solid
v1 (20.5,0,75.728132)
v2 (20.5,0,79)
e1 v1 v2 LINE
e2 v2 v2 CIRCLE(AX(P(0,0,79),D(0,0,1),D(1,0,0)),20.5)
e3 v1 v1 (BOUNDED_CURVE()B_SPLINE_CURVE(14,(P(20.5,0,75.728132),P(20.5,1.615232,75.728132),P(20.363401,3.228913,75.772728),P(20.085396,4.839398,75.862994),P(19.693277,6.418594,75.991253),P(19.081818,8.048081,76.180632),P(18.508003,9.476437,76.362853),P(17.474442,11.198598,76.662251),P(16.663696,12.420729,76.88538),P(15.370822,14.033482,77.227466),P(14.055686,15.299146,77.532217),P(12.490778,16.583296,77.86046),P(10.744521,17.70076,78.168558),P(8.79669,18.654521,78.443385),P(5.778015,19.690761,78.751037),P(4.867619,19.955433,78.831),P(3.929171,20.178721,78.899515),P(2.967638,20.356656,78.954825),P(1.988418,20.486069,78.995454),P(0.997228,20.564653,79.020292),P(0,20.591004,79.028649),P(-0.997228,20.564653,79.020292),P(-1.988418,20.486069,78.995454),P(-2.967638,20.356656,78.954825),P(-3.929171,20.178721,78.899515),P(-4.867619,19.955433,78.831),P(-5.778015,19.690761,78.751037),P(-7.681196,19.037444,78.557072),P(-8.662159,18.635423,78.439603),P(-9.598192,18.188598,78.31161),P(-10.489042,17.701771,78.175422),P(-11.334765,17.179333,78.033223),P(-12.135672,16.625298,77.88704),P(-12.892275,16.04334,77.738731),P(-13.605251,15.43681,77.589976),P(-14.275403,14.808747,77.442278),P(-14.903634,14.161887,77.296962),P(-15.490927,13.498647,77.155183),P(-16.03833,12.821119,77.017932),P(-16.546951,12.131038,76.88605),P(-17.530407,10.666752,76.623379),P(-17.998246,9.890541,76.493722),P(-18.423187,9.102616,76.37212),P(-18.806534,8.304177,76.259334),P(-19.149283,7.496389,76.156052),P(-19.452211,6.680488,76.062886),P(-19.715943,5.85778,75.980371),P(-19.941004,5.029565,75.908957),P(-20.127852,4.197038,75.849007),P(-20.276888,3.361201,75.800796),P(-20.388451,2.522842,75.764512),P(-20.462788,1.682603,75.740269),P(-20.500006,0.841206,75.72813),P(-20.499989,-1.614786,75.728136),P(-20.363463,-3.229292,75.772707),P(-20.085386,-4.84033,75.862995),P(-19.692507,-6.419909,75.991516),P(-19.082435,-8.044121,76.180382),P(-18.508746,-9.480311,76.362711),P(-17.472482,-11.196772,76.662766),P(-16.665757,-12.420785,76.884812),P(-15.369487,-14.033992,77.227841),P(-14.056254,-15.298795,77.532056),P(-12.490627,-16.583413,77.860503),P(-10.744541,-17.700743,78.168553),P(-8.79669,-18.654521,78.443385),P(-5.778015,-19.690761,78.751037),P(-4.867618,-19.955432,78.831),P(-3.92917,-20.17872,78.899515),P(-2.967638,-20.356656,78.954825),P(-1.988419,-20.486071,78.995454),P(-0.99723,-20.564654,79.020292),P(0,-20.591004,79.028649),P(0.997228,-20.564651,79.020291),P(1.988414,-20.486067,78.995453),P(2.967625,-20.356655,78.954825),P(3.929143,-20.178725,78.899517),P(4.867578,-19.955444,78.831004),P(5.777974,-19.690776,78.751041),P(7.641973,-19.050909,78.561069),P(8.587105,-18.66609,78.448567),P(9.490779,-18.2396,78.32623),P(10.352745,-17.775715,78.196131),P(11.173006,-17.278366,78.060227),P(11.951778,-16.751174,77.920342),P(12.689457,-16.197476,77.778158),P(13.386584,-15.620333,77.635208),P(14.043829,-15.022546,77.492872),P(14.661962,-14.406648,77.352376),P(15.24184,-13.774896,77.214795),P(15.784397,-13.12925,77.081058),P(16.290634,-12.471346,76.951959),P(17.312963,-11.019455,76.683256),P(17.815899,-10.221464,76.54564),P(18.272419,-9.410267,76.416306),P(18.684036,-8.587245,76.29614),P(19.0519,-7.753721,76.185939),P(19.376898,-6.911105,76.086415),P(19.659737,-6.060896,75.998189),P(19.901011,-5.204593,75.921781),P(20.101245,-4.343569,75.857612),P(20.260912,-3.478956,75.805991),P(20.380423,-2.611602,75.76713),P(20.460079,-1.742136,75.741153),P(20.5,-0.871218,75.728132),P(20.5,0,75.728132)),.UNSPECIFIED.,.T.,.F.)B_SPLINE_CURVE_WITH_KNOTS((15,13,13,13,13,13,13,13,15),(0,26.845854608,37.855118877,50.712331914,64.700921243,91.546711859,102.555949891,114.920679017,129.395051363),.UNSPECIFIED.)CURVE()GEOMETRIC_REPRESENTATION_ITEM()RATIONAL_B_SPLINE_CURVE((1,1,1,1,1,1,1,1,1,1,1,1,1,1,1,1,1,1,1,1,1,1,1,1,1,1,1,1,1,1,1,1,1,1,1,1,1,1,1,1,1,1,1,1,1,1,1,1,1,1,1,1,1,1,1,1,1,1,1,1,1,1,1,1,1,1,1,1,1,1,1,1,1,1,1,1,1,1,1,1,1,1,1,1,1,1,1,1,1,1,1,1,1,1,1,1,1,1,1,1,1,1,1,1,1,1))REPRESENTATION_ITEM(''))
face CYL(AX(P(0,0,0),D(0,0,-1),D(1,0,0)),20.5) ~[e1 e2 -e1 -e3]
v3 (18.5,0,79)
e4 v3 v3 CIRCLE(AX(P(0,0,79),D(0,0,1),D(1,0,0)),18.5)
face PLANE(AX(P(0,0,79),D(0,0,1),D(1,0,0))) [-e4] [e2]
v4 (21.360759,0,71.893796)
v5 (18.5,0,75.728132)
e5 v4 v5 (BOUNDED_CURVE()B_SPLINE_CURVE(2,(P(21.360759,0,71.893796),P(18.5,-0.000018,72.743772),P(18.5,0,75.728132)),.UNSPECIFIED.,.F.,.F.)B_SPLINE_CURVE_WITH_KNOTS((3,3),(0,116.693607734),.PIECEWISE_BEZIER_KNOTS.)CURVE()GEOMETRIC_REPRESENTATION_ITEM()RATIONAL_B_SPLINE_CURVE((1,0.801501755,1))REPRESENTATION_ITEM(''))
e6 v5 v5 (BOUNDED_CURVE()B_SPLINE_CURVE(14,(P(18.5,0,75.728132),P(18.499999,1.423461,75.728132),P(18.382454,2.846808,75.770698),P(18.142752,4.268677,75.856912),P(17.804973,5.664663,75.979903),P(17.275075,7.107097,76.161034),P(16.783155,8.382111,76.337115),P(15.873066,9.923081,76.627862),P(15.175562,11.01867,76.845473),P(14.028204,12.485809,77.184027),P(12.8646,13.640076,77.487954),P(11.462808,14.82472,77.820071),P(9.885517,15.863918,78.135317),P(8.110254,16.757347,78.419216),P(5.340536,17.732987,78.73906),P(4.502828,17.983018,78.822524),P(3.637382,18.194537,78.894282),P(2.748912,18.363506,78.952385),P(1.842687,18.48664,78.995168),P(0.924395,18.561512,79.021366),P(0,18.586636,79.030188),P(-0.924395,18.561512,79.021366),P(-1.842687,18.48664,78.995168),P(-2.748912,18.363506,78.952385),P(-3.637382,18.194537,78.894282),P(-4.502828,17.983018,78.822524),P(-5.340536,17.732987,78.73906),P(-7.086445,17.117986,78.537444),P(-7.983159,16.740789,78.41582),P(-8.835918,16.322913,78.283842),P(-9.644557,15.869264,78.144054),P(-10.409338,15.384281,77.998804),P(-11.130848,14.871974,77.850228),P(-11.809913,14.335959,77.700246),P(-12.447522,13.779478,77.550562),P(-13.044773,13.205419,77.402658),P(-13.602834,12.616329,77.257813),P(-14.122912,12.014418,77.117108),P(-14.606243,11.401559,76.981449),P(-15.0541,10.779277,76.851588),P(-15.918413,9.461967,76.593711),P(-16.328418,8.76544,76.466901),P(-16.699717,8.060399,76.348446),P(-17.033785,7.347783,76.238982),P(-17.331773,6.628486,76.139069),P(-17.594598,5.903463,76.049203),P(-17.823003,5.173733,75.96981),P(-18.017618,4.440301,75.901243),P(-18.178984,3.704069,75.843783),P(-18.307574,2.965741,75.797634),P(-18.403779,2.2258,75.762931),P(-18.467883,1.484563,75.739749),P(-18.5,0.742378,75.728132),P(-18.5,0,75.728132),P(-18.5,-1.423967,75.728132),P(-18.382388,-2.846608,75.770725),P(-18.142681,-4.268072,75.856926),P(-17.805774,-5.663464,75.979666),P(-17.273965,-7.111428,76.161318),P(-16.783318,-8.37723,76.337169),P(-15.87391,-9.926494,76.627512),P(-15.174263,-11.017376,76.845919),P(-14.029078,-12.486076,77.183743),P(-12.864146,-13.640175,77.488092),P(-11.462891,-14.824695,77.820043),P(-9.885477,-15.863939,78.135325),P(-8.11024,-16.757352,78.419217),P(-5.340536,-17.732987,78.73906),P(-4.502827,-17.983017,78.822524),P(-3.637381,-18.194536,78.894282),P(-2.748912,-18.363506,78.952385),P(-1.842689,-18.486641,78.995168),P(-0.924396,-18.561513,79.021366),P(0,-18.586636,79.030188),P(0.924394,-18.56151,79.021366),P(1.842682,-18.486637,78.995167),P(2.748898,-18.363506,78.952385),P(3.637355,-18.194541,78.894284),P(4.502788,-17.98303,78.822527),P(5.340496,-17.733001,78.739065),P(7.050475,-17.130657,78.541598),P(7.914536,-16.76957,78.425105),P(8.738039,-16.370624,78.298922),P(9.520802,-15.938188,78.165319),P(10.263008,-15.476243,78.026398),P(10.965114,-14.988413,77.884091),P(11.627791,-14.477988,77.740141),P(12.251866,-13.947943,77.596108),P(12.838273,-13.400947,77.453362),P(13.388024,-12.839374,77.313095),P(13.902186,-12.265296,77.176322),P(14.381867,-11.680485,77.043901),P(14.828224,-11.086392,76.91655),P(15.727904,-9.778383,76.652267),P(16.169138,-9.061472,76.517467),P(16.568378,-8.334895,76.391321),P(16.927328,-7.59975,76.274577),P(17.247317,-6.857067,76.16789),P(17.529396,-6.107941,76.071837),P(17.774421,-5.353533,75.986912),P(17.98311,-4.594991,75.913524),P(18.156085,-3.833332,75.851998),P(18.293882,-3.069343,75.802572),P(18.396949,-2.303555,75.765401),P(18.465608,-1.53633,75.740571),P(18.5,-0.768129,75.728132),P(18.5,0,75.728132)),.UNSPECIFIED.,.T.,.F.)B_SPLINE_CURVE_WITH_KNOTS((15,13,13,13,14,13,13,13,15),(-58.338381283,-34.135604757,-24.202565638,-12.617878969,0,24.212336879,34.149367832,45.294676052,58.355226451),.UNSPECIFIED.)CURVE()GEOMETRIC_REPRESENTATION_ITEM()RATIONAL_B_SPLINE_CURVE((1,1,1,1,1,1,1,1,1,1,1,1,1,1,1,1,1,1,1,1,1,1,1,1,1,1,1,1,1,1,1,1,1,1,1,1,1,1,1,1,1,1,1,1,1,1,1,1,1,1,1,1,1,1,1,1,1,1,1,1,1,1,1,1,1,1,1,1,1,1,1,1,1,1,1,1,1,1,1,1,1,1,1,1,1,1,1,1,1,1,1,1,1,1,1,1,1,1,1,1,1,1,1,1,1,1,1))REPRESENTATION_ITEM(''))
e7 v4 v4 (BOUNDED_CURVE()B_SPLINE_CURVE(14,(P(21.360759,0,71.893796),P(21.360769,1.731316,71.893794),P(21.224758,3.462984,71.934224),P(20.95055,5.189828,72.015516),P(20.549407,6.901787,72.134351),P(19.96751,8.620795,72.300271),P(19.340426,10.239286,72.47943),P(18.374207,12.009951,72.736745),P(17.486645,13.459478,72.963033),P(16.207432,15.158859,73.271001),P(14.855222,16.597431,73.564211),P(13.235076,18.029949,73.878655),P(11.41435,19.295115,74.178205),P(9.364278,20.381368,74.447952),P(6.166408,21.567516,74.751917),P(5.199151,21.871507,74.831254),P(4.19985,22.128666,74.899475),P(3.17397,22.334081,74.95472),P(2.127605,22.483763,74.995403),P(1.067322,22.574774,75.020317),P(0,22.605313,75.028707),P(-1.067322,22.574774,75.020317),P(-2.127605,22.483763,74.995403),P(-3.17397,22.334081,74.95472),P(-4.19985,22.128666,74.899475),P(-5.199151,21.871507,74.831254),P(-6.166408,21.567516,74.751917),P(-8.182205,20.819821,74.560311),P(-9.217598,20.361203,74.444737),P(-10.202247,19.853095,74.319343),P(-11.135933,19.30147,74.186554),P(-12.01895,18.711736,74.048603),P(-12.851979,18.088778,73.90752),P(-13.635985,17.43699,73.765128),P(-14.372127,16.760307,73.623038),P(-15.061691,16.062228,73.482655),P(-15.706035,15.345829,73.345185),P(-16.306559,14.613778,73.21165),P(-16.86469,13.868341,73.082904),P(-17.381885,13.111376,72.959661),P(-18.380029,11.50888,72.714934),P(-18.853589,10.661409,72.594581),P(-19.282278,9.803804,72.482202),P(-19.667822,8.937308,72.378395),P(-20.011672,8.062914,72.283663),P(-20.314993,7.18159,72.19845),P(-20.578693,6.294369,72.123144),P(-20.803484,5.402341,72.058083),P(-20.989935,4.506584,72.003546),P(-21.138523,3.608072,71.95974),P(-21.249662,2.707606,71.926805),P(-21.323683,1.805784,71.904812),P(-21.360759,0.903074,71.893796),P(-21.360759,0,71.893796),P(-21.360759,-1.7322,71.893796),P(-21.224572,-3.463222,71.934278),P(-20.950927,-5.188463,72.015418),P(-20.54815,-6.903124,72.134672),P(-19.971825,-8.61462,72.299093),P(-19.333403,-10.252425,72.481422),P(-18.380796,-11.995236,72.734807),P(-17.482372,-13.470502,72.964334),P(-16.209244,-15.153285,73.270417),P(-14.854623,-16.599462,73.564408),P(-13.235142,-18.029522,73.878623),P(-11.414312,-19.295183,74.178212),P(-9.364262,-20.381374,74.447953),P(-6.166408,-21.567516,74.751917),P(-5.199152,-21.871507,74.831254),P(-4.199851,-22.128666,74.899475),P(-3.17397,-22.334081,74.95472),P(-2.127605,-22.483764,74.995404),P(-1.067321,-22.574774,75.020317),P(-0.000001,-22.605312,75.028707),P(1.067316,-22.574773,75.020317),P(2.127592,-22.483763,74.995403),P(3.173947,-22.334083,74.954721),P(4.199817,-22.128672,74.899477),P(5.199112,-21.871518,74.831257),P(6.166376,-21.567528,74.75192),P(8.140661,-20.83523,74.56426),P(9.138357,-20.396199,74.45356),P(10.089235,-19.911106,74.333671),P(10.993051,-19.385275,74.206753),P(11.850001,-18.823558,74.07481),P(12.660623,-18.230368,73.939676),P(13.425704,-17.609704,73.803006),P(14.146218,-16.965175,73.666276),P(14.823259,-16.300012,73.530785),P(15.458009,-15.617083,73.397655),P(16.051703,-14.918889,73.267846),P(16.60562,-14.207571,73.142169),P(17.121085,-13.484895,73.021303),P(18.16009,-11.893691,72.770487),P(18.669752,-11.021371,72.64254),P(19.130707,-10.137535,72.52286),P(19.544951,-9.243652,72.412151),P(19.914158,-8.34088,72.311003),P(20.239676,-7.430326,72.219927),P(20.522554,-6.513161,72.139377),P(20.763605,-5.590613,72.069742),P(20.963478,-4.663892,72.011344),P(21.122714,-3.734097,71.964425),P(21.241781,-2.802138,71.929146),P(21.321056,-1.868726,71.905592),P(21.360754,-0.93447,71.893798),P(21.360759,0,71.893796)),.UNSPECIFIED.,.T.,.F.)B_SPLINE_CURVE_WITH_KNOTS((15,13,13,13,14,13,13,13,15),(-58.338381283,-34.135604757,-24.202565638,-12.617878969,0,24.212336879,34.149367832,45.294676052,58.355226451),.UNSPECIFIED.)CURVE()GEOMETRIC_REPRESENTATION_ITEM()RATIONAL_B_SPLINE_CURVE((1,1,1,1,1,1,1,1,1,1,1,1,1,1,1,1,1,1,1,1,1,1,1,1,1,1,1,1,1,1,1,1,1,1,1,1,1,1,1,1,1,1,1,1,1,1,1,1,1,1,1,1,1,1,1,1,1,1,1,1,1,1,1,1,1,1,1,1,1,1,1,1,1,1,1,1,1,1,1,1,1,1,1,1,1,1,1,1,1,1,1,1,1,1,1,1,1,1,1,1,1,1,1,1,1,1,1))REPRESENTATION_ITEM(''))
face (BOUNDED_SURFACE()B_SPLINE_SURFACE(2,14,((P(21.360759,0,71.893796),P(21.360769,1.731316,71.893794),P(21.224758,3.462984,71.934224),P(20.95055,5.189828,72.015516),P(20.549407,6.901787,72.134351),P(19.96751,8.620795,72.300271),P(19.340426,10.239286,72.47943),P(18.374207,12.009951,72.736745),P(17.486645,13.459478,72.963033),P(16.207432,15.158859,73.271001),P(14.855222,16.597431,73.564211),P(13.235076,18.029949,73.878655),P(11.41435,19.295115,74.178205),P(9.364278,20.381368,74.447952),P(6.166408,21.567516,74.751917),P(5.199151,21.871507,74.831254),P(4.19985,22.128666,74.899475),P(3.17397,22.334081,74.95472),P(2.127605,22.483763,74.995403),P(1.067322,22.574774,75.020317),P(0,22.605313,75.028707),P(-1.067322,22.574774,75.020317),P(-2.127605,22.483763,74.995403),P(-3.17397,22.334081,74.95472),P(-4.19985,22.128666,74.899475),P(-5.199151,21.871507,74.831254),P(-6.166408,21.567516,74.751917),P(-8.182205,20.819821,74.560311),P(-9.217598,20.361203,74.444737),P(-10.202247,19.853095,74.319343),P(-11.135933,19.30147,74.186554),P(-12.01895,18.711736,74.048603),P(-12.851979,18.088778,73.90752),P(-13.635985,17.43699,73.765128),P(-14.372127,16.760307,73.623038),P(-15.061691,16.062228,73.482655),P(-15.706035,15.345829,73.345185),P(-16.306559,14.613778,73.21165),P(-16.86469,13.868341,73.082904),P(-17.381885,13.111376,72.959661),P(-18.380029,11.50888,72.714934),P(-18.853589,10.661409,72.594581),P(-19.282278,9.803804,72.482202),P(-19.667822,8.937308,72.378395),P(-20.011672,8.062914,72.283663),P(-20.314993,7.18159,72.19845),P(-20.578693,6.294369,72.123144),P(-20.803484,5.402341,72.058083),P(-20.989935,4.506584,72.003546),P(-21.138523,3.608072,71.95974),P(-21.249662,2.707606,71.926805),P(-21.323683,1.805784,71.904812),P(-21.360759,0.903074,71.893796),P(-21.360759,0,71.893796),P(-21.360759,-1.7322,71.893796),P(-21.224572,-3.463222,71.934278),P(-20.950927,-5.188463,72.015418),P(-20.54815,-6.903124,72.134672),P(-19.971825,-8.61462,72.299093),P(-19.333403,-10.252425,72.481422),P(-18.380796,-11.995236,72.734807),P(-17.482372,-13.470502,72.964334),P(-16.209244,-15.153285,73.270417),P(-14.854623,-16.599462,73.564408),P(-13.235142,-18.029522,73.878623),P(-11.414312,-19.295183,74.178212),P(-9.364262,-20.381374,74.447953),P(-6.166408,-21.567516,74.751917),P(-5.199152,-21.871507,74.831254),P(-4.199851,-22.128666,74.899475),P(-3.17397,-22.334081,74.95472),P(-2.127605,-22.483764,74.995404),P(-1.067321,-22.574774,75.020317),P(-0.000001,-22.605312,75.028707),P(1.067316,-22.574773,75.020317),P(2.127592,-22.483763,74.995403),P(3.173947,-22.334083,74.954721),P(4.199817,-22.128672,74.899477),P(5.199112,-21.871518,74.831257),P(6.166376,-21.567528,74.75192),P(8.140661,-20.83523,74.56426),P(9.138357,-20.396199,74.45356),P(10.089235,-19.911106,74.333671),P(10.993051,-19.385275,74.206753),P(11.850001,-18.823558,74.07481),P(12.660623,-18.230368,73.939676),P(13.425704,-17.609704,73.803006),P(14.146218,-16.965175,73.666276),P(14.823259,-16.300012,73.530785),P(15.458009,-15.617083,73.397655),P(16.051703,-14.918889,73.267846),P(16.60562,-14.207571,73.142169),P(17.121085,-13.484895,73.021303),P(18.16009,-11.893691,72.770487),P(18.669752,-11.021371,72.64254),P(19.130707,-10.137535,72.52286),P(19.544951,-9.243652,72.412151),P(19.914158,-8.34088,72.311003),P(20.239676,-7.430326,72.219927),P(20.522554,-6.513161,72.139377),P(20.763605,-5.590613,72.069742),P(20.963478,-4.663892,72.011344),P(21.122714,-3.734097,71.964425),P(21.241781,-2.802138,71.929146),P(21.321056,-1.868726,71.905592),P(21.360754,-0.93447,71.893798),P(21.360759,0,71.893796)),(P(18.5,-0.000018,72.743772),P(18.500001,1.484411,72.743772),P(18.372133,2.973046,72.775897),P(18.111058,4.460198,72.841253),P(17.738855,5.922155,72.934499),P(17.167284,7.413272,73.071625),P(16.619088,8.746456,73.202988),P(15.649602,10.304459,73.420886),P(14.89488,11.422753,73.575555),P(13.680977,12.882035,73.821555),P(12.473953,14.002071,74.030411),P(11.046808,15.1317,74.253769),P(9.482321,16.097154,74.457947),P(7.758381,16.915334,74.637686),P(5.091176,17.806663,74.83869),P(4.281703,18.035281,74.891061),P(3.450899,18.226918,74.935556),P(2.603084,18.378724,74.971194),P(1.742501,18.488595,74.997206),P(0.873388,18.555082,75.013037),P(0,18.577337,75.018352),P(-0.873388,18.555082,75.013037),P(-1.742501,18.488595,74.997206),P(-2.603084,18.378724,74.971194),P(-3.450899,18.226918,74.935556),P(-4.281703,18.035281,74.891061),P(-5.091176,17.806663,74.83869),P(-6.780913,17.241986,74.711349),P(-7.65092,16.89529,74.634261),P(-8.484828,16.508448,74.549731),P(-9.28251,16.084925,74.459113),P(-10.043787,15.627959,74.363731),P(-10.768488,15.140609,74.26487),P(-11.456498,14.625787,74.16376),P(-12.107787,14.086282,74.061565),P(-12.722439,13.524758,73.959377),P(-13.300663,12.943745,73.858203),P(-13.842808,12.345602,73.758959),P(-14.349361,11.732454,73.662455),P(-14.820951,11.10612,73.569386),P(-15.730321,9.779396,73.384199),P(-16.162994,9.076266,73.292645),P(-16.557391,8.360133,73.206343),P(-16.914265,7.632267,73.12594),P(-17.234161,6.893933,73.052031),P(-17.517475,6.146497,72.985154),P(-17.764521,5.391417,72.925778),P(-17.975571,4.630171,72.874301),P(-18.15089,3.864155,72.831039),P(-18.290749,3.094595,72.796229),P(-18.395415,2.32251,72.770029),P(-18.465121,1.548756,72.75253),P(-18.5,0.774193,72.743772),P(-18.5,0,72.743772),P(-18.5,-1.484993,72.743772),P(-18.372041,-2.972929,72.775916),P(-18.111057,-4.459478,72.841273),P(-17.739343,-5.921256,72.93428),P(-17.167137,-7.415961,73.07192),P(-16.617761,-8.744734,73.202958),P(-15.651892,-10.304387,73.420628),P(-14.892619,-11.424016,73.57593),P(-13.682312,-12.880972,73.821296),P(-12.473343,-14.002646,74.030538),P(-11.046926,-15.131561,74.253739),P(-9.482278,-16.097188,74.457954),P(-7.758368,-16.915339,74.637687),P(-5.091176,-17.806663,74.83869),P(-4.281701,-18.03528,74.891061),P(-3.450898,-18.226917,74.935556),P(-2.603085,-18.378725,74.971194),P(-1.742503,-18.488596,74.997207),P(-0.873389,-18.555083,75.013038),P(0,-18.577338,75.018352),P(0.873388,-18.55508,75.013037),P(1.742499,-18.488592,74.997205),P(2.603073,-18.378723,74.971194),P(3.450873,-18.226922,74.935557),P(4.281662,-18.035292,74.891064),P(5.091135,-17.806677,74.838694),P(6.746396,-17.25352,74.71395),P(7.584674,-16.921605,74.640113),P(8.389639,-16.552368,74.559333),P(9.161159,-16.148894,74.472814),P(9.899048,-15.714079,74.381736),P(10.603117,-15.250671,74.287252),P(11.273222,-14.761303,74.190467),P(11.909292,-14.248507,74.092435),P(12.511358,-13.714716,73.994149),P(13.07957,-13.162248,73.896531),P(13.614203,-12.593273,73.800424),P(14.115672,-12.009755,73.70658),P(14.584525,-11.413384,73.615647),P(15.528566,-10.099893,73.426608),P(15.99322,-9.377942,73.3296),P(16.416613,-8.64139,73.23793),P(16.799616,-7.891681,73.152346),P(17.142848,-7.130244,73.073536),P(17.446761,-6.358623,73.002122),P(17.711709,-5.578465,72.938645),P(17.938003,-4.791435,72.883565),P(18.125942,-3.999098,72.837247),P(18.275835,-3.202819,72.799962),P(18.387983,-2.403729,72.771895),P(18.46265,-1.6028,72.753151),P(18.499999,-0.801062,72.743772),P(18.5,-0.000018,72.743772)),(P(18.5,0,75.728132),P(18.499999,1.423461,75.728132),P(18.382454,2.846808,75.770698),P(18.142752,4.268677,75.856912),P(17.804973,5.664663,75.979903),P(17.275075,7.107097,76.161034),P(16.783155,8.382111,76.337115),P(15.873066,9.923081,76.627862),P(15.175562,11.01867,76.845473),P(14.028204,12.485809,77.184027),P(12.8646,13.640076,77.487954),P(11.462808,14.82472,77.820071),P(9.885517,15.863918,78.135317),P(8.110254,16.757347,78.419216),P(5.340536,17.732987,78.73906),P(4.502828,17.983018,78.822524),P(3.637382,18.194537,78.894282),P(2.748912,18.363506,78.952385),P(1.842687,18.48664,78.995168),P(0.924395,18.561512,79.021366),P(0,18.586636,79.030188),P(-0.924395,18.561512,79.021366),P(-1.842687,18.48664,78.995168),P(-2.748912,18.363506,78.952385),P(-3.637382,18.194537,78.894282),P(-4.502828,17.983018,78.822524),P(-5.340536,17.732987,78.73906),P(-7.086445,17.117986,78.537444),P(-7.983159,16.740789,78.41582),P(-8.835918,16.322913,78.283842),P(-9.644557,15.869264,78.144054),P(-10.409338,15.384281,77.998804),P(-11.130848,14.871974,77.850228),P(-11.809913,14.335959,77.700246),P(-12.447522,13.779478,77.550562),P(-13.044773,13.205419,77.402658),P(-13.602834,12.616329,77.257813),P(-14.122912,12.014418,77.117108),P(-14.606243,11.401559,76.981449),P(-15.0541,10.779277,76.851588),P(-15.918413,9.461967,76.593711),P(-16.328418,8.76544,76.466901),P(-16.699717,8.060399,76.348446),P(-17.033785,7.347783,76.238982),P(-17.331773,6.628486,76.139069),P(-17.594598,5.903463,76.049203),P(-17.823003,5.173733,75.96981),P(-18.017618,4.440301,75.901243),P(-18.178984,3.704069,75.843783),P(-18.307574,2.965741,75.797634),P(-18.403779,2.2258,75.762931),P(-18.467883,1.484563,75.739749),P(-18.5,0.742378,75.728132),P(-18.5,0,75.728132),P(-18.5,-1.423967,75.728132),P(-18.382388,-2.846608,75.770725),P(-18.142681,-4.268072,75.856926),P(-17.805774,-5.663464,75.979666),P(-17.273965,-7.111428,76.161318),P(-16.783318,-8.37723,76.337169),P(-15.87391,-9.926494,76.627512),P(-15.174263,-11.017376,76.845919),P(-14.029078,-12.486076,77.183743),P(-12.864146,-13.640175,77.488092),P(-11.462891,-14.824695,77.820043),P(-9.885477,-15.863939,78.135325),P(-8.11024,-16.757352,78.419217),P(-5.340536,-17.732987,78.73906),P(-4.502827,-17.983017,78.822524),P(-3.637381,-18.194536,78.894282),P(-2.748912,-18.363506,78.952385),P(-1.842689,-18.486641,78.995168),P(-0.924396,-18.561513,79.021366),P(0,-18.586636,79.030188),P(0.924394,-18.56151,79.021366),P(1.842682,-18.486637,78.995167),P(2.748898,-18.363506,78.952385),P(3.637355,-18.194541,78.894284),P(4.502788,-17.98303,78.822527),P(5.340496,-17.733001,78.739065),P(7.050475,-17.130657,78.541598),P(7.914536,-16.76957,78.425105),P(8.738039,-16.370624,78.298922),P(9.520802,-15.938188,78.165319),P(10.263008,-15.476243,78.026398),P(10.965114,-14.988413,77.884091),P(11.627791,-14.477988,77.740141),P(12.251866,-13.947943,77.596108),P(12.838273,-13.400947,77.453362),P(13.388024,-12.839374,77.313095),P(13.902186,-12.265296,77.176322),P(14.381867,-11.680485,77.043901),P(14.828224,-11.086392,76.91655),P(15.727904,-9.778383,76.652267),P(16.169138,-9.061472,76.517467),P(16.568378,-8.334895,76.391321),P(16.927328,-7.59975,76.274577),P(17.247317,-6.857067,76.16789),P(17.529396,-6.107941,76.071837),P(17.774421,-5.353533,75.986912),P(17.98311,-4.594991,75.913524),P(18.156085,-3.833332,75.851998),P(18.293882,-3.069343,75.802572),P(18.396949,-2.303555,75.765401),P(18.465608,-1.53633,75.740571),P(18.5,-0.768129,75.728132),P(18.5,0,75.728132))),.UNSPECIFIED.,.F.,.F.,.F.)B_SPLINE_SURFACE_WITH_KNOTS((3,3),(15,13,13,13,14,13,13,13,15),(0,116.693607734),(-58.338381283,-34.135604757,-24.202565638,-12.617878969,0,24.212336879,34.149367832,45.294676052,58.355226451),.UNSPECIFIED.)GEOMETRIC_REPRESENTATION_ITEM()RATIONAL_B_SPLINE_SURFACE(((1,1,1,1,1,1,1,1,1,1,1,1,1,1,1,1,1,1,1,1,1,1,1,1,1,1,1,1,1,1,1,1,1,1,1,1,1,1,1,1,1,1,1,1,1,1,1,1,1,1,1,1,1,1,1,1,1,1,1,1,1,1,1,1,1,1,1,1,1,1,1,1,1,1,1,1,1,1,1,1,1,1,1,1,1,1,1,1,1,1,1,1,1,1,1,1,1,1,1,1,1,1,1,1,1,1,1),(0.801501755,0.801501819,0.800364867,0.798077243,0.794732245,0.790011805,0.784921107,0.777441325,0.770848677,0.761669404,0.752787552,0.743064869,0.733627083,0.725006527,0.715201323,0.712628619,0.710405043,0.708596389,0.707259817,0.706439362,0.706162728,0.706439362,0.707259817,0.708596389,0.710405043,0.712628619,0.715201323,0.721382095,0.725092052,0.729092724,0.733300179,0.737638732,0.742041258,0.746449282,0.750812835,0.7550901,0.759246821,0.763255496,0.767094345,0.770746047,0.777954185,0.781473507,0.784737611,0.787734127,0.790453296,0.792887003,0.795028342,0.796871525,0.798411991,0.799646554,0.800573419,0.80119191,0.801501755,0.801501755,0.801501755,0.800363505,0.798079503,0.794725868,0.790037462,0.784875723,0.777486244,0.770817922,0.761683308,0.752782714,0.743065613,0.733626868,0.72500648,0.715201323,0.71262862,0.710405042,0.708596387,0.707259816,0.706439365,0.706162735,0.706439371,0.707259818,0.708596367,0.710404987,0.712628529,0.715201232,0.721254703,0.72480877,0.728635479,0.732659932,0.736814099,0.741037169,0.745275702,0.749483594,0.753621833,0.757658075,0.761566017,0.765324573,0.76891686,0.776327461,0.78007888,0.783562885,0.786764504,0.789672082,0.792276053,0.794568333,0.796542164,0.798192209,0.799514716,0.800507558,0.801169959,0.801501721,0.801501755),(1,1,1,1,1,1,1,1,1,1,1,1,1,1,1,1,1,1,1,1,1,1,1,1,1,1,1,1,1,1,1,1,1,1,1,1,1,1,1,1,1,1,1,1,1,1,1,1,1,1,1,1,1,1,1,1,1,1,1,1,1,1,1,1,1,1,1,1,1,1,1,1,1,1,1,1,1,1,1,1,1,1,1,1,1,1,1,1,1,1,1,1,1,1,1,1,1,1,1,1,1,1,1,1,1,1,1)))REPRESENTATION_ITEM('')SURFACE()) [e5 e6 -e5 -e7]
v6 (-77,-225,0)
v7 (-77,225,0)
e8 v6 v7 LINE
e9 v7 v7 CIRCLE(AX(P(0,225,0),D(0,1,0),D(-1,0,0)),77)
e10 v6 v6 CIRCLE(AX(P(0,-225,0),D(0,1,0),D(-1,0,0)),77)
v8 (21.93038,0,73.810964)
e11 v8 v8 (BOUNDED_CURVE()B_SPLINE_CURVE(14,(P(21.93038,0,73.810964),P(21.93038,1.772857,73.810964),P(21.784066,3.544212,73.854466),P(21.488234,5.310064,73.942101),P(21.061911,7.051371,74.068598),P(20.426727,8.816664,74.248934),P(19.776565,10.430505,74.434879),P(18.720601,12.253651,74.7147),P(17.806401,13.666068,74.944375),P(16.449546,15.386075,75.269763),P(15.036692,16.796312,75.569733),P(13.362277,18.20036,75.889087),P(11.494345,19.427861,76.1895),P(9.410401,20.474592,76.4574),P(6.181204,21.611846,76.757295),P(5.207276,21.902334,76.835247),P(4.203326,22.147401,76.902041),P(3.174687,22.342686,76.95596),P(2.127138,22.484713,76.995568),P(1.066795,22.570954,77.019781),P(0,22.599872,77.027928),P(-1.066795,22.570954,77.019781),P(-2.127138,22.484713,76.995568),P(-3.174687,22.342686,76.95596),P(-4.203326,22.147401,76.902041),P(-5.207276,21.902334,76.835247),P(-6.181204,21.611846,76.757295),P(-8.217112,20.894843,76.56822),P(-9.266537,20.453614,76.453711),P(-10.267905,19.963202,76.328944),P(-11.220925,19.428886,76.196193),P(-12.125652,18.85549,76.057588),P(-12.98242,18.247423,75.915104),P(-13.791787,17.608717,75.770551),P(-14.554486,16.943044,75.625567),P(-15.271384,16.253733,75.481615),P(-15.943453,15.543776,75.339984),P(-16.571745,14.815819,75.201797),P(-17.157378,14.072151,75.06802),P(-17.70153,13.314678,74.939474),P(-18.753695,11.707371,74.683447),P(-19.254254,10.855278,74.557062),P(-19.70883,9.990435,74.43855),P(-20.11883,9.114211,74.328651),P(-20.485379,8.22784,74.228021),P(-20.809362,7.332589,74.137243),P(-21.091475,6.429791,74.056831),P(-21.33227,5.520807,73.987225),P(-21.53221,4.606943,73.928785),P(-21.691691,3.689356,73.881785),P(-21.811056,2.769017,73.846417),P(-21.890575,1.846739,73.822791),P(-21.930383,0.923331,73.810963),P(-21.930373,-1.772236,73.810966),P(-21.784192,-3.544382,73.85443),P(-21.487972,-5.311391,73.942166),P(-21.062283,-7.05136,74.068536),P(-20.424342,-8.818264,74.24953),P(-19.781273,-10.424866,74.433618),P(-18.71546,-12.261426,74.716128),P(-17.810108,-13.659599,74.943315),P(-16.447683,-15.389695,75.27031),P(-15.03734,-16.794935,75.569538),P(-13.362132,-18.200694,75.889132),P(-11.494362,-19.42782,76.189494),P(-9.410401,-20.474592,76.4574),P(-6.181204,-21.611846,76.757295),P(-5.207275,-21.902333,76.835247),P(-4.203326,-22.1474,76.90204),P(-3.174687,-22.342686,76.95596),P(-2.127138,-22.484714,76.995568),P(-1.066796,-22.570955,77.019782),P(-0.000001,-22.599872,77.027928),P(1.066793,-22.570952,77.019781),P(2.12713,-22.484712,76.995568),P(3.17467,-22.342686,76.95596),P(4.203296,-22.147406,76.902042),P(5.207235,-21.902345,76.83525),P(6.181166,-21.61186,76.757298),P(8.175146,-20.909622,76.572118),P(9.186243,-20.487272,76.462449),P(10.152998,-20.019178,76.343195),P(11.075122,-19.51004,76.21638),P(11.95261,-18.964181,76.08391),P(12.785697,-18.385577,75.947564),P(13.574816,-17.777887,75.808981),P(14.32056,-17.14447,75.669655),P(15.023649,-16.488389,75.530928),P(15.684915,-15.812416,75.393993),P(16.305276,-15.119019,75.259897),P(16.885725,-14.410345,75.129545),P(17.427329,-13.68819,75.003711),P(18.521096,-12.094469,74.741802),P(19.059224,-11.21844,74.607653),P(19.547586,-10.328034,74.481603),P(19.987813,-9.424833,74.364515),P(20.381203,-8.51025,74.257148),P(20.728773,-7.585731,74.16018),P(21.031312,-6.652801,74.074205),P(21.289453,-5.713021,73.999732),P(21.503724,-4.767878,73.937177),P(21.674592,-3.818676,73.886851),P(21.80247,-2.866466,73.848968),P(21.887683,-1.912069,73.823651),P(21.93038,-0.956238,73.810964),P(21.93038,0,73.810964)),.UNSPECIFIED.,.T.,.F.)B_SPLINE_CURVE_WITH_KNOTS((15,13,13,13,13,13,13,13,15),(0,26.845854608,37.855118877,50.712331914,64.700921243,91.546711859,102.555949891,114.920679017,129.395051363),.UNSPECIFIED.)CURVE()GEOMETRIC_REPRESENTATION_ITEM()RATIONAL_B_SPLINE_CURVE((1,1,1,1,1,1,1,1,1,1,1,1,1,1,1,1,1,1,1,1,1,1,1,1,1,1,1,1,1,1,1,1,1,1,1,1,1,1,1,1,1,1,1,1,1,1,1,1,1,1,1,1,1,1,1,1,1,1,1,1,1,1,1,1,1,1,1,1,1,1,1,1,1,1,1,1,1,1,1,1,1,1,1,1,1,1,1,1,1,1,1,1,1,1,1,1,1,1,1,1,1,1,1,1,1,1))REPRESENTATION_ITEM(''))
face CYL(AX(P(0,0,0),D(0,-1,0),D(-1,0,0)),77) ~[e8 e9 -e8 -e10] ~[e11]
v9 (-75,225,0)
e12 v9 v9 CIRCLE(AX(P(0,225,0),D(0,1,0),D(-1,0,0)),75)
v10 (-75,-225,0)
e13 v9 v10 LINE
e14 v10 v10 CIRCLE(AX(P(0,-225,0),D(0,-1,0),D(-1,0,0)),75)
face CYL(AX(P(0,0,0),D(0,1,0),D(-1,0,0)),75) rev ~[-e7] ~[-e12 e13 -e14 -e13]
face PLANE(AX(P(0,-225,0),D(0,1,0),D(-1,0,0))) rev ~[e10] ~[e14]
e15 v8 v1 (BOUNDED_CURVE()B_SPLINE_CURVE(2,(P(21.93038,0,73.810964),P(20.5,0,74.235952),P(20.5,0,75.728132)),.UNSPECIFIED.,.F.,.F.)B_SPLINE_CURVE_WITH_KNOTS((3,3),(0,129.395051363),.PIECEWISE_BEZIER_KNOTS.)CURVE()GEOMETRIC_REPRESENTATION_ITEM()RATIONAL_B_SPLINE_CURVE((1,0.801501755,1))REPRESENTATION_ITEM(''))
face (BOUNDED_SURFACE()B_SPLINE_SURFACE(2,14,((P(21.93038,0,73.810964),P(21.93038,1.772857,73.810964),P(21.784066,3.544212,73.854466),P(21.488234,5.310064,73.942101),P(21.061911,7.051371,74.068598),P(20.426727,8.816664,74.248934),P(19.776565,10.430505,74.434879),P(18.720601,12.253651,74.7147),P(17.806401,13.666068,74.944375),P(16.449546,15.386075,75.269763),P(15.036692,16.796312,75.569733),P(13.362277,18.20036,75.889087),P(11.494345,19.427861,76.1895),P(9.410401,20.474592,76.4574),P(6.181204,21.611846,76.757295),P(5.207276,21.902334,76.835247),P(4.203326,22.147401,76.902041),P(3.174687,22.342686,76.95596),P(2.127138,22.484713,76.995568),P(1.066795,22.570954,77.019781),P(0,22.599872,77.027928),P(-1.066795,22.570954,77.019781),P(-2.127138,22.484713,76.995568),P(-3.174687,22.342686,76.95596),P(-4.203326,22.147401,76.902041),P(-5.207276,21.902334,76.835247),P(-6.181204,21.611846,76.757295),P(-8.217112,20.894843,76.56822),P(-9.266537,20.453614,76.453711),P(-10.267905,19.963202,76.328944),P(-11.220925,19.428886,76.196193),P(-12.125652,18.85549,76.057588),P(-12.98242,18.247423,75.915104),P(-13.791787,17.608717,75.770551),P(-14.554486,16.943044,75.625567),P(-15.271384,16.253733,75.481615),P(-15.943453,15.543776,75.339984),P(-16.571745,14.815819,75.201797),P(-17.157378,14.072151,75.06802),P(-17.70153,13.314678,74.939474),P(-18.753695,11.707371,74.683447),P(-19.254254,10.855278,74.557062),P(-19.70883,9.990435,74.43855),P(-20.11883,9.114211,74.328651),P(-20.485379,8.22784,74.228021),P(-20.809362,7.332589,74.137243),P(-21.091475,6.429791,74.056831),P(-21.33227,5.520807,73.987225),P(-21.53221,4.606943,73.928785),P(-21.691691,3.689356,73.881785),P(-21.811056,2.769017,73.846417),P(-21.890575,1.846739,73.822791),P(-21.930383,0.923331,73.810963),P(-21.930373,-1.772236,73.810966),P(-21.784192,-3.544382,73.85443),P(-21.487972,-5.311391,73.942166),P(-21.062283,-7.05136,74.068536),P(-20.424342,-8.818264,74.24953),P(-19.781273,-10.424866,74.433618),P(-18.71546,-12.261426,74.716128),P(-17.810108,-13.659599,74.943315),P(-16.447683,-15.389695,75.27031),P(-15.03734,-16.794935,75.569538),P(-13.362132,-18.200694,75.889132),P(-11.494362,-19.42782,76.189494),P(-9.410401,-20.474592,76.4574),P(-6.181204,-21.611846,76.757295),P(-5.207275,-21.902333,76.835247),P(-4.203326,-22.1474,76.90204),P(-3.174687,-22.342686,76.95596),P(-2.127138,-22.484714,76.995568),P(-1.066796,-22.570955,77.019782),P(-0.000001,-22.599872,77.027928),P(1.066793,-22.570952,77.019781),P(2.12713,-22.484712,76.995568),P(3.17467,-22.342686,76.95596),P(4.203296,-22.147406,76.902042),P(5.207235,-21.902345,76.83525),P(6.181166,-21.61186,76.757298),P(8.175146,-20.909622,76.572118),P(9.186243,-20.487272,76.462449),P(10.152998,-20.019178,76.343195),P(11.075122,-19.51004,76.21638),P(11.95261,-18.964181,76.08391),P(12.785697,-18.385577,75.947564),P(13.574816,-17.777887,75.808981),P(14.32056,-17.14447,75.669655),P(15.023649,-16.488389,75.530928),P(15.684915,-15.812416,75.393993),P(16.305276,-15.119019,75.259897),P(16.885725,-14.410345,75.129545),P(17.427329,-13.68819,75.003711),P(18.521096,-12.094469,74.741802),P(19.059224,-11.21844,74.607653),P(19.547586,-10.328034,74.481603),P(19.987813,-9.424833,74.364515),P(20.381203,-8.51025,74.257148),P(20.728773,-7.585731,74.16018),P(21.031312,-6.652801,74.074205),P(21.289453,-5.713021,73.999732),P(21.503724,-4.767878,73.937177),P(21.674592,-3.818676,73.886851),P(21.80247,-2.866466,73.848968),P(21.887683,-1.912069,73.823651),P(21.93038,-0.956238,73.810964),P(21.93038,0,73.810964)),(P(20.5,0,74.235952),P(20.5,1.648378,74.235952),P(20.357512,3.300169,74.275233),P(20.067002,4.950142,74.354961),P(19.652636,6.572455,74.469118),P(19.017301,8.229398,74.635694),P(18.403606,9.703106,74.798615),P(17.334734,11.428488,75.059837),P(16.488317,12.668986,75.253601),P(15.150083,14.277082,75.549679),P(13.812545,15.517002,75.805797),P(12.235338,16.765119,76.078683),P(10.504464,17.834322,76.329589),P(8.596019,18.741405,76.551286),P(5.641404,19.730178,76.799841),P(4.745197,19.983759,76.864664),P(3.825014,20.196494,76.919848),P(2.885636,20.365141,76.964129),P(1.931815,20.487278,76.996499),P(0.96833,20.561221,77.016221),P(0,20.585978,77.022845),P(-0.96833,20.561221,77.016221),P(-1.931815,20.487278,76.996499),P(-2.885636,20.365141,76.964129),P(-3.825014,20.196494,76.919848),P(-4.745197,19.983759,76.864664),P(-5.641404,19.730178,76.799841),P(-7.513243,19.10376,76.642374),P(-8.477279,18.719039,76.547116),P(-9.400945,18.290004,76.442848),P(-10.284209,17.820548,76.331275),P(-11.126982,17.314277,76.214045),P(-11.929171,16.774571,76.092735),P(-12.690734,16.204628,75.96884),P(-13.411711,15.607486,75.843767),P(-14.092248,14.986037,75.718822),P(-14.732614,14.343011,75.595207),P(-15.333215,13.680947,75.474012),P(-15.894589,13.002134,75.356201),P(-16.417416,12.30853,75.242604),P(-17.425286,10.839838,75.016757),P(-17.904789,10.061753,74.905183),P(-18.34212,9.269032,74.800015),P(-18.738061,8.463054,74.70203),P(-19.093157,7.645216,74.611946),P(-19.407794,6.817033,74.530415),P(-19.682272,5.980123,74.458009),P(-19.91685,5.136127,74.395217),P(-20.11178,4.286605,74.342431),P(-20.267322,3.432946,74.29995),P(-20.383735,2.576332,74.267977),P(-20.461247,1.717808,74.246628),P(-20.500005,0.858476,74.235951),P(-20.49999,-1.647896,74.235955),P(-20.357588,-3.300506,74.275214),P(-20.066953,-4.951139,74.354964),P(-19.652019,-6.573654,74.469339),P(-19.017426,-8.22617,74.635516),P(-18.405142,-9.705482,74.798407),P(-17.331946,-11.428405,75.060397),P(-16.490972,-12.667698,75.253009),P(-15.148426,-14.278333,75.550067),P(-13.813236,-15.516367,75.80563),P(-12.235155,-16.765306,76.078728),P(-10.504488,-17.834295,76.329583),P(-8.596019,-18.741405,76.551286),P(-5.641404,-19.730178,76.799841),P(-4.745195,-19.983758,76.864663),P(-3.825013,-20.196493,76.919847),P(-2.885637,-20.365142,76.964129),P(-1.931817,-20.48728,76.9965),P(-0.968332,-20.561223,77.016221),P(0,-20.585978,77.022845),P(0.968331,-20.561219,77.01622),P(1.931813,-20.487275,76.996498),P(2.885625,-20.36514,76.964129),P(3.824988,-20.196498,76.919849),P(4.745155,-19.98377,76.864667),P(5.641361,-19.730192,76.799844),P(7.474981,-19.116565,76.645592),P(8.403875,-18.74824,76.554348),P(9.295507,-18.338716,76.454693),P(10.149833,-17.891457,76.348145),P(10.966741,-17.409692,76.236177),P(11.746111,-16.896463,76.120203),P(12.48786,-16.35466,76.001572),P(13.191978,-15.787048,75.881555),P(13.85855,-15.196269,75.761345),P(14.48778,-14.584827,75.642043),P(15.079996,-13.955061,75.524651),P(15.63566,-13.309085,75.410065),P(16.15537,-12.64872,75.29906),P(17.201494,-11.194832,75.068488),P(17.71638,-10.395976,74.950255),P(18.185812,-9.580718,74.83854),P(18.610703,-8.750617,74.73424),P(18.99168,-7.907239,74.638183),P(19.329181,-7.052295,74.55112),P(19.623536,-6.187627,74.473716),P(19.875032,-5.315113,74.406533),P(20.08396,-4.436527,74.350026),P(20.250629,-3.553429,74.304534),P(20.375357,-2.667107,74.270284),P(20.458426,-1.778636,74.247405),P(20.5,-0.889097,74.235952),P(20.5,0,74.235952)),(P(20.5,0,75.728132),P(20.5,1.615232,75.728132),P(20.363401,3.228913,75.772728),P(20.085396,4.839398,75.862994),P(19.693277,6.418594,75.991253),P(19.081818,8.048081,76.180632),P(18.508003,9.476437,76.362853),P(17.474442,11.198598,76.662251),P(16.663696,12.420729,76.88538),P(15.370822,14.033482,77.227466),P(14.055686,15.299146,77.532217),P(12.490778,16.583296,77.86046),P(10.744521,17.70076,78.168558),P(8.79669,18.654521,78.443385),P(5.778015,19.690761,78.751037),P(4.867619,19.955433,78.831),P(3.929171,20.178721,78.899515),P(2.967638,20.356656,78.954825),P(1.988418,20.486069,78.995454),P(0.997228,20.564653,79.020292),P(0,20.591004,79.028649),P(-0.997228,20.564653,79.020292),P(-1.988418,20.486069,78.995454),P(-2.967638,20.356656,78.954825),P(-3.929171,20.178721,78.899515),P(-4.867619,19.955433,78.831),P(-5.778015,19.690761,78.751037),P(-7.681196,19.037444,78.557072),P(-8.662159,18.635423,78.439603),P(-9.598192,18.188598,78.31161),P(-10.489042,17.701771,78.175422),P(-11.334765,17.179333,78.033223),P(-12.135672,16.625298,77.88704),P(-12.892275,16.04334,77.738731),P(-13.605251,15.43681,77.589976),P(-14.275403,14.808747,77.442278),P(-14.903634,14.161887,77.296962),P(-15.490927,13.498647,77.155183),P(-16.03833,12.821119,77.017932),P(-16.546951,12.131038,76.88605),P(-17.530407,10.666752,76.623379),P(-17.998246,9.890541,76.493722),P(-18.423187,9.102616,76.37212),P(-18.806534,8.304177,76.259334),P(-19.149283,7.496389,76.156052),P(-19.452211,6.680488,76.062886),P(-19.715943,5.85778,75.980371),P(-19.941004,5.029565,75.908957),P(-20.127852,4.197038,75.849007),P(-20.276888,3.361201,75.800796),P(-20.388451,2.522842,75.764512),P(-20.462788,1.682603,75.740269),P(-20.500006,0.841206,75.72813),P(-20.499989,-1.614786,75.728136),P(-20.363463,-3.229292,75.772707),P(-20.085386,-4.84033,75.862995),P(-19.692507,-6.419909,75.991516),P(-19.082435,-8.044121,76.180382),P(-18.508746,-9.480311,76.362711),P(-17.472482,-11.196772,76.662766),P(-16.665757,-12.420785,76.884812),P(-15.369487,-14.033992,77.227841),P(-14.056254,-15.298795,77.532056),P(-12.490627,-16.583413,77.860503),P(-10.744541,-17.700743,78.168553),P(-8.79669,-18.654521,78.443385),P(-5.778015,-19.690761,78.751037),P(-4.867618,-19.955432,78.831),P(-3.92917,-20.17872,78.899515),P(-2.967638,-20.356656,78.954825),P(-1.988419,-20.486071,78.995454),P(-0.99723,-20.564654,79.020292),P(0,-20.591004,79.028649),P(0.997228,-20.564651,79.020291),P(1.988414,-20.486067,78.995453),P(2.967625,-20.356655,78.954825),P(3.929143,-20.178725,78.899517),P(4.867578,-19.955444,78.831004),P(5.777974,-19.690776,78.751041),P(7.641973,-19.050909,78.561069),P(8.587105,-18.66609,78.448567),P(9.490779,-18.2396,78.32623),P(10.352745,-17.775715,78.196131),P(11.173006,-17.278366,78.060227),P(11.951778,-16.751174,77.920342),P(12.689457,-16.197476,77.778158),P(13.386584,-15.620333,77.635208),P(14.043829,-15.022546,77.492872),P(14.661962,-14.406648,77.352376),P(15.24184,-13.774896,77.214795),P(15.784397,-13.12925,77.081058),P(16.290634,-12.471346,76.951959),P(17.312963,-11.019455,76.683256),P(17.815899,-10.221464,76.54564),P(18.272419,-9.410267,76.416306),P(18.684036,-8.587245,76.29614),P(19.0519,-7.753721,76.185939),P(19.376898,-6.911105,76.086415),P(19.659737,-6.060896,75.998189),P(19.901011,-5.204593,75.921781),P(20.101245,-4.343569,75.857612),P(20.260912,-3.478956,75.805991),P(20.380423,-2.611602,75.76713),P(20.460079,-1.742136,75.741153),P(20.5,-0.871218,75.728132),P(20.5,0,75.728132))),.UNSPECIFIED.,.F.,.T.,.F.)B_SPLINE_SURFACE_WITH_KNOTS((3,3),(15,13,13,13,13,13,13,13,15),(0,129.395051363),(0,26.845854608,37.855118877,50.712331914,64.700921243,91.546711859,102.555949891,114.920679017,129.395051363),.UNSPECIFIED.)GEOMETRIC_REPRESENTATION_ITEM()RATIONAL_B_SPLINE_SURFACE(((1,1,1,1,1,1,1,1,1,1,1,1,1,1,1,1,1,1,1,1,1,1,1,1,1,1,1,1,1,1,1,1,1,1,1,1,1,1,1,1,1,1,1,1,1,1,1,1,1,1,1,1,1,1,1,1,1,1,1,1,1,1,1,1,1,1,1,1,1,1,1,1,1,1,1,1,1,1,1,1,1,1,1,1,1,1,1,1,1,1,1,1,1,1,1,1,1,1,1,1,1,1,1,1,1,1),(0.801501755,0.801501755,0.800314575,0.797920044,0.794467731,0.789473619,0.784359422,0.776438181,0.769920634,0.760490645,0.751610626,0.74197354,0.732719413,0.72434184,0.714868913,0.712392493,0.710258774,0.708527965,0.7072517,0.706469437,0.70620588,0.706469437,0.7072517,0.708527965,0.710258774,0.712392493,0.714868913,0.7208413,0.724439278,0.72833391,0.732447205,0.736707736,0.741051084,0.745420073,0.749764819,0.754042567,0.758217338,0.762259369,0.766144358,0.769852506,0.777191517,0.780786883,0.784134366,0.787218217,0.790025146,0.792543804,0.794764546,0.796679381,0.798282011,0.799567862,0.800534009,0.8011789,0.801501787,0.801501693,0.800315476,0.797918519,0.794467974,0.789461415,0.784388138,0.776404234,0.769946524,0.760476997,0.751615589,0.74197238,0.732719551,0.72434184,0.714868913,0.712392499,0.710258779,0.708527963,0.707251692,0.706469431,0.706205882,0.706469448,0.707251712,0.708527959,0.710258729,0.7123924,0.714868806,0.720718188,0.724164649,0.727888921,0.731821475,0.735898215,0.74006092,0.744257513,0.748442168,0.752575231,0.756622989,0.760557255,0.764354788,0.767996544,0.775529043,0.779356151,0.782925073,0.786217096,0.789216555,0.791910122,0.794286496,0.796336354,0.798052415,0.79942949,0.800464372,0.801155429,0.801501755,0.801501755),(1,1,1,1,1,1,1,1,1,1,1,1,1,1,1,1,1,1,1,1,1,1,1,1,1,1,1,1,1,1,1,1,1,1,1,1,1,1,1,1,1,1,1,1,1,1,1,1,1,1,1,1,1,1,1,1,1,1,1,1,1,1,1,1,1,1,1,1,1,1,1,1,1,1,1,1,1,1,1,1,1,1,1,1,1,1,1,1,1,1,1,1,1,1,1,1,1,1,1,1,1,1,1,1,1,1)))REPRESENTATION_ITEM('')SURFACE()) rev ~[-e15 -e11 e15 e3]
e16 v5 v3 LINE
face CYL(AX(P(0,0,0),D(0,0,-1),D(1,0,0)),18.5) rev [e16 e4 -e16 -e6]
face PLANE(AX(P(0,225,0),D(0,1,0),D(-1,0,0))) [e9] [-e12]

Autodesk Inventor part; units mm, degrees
ref_plane "YZ Plane" through (0, 0, 0) normal (1, 0, 0) x (0, 1, 0)
ref_plane "XZ Plane" through (0, 0, 0) normal (0, 1, 0) x (-1, 0, 0)
ref_plane "XY Plane" through (0, 0, 0) normal (0, 0, 1) x (1, 0, 0)
sketch "Szkic8" plane through (0, 0, 0) normal (0, 1, 0) x (-1, 0, 0)
  circle A0 centre (0, 0) radius 77
  circle A1 centre (0, 0) radius 75
  dimension "d53" = 154
  dimension "d54" = 2
extrude "Wyciągnięcie proste2" add sketch "Szkic8" along normal mid plane 450
sketch "Szkic13" plane through (0, 0, 0) normal (0, 0, 1) x (1, 0, 0)
  circle A0 centre (0, 0) radius 20.5
  circle A1 centre (0, 0) radius 18.5
  dimension "d67" = 41
  dimension "d68" = 2
extrude "Wyciągnięcie proste6" add sketch "Szkic13" along normal blind 79
sketch "Szkic14" plane through (0, 0, 79) normal (0, 0, 1) x (1, 0, 0)
  circle A0 centre (0, 0) radius 18.5 projected
extrude "Wyciągnięcie proste7" cut sketch "Szkic14" against normal blind 79
sketch "Szkic15" plane through (0, -225, 0) normal (0, -1, 0) x (1, 0, 0)
  circle A0 centre (0, 0) radius 75 projected
extrude "Wyciągnięcie proste8" cut sketch "Szkic15" against normal blind 450
fillet "Zaokrąglenie3" radius 2 2 edges at (0, 20.5, 77) (-0.0041, -20.5, 77)
fillet "Zaokrąglenie4" radius 4 2 edges at (-0.0039, -18.5, 75) (0, 18.5, 75)
equation "\"d53\" = OD"
equation "\"d54\" = THK"
equation "\"d55\" = L1"
equation "\"d67\" = OD2"
equation "\"d68\" = THK"
equation "\"d69\" = L2"
equation "\"d71\" = L2"
equation "\"d73\" = L1"
equation "\"d75\" = THK"
equation "\"d76\" = 2 * THK"
equation "\"SzerokośćGięciaPodcięcia\" = Grubość"
equation "\"RozmiarPodcięciaNarożnika\" = 4 * Grubość"
equation "\"PromieńPrzejścia\" = PromieńGięcia"
equation "\"Rozmiar_promienia_Jacobiego\" = PromieńGięcia"
equation "\"Wielk_odstępu\" = Grubość"
equation "\"d2\" = PromieńGięcia"
equation "\"d23\" = PromieńGięcia"
equation "\"OD\" = 154"
equation "\"THK\" = 2"
equation "\"L1\" = 450"
equation "\"L2\" = 79"
equation "\"OD2\" = 41"
equation "\"Grubość\" = 1.5"
equation "\"PromieńGięcia\" = 3"
properties part number "Trójnik red. krótki  Ø154 41 154 s=2 L=450" material "304"
